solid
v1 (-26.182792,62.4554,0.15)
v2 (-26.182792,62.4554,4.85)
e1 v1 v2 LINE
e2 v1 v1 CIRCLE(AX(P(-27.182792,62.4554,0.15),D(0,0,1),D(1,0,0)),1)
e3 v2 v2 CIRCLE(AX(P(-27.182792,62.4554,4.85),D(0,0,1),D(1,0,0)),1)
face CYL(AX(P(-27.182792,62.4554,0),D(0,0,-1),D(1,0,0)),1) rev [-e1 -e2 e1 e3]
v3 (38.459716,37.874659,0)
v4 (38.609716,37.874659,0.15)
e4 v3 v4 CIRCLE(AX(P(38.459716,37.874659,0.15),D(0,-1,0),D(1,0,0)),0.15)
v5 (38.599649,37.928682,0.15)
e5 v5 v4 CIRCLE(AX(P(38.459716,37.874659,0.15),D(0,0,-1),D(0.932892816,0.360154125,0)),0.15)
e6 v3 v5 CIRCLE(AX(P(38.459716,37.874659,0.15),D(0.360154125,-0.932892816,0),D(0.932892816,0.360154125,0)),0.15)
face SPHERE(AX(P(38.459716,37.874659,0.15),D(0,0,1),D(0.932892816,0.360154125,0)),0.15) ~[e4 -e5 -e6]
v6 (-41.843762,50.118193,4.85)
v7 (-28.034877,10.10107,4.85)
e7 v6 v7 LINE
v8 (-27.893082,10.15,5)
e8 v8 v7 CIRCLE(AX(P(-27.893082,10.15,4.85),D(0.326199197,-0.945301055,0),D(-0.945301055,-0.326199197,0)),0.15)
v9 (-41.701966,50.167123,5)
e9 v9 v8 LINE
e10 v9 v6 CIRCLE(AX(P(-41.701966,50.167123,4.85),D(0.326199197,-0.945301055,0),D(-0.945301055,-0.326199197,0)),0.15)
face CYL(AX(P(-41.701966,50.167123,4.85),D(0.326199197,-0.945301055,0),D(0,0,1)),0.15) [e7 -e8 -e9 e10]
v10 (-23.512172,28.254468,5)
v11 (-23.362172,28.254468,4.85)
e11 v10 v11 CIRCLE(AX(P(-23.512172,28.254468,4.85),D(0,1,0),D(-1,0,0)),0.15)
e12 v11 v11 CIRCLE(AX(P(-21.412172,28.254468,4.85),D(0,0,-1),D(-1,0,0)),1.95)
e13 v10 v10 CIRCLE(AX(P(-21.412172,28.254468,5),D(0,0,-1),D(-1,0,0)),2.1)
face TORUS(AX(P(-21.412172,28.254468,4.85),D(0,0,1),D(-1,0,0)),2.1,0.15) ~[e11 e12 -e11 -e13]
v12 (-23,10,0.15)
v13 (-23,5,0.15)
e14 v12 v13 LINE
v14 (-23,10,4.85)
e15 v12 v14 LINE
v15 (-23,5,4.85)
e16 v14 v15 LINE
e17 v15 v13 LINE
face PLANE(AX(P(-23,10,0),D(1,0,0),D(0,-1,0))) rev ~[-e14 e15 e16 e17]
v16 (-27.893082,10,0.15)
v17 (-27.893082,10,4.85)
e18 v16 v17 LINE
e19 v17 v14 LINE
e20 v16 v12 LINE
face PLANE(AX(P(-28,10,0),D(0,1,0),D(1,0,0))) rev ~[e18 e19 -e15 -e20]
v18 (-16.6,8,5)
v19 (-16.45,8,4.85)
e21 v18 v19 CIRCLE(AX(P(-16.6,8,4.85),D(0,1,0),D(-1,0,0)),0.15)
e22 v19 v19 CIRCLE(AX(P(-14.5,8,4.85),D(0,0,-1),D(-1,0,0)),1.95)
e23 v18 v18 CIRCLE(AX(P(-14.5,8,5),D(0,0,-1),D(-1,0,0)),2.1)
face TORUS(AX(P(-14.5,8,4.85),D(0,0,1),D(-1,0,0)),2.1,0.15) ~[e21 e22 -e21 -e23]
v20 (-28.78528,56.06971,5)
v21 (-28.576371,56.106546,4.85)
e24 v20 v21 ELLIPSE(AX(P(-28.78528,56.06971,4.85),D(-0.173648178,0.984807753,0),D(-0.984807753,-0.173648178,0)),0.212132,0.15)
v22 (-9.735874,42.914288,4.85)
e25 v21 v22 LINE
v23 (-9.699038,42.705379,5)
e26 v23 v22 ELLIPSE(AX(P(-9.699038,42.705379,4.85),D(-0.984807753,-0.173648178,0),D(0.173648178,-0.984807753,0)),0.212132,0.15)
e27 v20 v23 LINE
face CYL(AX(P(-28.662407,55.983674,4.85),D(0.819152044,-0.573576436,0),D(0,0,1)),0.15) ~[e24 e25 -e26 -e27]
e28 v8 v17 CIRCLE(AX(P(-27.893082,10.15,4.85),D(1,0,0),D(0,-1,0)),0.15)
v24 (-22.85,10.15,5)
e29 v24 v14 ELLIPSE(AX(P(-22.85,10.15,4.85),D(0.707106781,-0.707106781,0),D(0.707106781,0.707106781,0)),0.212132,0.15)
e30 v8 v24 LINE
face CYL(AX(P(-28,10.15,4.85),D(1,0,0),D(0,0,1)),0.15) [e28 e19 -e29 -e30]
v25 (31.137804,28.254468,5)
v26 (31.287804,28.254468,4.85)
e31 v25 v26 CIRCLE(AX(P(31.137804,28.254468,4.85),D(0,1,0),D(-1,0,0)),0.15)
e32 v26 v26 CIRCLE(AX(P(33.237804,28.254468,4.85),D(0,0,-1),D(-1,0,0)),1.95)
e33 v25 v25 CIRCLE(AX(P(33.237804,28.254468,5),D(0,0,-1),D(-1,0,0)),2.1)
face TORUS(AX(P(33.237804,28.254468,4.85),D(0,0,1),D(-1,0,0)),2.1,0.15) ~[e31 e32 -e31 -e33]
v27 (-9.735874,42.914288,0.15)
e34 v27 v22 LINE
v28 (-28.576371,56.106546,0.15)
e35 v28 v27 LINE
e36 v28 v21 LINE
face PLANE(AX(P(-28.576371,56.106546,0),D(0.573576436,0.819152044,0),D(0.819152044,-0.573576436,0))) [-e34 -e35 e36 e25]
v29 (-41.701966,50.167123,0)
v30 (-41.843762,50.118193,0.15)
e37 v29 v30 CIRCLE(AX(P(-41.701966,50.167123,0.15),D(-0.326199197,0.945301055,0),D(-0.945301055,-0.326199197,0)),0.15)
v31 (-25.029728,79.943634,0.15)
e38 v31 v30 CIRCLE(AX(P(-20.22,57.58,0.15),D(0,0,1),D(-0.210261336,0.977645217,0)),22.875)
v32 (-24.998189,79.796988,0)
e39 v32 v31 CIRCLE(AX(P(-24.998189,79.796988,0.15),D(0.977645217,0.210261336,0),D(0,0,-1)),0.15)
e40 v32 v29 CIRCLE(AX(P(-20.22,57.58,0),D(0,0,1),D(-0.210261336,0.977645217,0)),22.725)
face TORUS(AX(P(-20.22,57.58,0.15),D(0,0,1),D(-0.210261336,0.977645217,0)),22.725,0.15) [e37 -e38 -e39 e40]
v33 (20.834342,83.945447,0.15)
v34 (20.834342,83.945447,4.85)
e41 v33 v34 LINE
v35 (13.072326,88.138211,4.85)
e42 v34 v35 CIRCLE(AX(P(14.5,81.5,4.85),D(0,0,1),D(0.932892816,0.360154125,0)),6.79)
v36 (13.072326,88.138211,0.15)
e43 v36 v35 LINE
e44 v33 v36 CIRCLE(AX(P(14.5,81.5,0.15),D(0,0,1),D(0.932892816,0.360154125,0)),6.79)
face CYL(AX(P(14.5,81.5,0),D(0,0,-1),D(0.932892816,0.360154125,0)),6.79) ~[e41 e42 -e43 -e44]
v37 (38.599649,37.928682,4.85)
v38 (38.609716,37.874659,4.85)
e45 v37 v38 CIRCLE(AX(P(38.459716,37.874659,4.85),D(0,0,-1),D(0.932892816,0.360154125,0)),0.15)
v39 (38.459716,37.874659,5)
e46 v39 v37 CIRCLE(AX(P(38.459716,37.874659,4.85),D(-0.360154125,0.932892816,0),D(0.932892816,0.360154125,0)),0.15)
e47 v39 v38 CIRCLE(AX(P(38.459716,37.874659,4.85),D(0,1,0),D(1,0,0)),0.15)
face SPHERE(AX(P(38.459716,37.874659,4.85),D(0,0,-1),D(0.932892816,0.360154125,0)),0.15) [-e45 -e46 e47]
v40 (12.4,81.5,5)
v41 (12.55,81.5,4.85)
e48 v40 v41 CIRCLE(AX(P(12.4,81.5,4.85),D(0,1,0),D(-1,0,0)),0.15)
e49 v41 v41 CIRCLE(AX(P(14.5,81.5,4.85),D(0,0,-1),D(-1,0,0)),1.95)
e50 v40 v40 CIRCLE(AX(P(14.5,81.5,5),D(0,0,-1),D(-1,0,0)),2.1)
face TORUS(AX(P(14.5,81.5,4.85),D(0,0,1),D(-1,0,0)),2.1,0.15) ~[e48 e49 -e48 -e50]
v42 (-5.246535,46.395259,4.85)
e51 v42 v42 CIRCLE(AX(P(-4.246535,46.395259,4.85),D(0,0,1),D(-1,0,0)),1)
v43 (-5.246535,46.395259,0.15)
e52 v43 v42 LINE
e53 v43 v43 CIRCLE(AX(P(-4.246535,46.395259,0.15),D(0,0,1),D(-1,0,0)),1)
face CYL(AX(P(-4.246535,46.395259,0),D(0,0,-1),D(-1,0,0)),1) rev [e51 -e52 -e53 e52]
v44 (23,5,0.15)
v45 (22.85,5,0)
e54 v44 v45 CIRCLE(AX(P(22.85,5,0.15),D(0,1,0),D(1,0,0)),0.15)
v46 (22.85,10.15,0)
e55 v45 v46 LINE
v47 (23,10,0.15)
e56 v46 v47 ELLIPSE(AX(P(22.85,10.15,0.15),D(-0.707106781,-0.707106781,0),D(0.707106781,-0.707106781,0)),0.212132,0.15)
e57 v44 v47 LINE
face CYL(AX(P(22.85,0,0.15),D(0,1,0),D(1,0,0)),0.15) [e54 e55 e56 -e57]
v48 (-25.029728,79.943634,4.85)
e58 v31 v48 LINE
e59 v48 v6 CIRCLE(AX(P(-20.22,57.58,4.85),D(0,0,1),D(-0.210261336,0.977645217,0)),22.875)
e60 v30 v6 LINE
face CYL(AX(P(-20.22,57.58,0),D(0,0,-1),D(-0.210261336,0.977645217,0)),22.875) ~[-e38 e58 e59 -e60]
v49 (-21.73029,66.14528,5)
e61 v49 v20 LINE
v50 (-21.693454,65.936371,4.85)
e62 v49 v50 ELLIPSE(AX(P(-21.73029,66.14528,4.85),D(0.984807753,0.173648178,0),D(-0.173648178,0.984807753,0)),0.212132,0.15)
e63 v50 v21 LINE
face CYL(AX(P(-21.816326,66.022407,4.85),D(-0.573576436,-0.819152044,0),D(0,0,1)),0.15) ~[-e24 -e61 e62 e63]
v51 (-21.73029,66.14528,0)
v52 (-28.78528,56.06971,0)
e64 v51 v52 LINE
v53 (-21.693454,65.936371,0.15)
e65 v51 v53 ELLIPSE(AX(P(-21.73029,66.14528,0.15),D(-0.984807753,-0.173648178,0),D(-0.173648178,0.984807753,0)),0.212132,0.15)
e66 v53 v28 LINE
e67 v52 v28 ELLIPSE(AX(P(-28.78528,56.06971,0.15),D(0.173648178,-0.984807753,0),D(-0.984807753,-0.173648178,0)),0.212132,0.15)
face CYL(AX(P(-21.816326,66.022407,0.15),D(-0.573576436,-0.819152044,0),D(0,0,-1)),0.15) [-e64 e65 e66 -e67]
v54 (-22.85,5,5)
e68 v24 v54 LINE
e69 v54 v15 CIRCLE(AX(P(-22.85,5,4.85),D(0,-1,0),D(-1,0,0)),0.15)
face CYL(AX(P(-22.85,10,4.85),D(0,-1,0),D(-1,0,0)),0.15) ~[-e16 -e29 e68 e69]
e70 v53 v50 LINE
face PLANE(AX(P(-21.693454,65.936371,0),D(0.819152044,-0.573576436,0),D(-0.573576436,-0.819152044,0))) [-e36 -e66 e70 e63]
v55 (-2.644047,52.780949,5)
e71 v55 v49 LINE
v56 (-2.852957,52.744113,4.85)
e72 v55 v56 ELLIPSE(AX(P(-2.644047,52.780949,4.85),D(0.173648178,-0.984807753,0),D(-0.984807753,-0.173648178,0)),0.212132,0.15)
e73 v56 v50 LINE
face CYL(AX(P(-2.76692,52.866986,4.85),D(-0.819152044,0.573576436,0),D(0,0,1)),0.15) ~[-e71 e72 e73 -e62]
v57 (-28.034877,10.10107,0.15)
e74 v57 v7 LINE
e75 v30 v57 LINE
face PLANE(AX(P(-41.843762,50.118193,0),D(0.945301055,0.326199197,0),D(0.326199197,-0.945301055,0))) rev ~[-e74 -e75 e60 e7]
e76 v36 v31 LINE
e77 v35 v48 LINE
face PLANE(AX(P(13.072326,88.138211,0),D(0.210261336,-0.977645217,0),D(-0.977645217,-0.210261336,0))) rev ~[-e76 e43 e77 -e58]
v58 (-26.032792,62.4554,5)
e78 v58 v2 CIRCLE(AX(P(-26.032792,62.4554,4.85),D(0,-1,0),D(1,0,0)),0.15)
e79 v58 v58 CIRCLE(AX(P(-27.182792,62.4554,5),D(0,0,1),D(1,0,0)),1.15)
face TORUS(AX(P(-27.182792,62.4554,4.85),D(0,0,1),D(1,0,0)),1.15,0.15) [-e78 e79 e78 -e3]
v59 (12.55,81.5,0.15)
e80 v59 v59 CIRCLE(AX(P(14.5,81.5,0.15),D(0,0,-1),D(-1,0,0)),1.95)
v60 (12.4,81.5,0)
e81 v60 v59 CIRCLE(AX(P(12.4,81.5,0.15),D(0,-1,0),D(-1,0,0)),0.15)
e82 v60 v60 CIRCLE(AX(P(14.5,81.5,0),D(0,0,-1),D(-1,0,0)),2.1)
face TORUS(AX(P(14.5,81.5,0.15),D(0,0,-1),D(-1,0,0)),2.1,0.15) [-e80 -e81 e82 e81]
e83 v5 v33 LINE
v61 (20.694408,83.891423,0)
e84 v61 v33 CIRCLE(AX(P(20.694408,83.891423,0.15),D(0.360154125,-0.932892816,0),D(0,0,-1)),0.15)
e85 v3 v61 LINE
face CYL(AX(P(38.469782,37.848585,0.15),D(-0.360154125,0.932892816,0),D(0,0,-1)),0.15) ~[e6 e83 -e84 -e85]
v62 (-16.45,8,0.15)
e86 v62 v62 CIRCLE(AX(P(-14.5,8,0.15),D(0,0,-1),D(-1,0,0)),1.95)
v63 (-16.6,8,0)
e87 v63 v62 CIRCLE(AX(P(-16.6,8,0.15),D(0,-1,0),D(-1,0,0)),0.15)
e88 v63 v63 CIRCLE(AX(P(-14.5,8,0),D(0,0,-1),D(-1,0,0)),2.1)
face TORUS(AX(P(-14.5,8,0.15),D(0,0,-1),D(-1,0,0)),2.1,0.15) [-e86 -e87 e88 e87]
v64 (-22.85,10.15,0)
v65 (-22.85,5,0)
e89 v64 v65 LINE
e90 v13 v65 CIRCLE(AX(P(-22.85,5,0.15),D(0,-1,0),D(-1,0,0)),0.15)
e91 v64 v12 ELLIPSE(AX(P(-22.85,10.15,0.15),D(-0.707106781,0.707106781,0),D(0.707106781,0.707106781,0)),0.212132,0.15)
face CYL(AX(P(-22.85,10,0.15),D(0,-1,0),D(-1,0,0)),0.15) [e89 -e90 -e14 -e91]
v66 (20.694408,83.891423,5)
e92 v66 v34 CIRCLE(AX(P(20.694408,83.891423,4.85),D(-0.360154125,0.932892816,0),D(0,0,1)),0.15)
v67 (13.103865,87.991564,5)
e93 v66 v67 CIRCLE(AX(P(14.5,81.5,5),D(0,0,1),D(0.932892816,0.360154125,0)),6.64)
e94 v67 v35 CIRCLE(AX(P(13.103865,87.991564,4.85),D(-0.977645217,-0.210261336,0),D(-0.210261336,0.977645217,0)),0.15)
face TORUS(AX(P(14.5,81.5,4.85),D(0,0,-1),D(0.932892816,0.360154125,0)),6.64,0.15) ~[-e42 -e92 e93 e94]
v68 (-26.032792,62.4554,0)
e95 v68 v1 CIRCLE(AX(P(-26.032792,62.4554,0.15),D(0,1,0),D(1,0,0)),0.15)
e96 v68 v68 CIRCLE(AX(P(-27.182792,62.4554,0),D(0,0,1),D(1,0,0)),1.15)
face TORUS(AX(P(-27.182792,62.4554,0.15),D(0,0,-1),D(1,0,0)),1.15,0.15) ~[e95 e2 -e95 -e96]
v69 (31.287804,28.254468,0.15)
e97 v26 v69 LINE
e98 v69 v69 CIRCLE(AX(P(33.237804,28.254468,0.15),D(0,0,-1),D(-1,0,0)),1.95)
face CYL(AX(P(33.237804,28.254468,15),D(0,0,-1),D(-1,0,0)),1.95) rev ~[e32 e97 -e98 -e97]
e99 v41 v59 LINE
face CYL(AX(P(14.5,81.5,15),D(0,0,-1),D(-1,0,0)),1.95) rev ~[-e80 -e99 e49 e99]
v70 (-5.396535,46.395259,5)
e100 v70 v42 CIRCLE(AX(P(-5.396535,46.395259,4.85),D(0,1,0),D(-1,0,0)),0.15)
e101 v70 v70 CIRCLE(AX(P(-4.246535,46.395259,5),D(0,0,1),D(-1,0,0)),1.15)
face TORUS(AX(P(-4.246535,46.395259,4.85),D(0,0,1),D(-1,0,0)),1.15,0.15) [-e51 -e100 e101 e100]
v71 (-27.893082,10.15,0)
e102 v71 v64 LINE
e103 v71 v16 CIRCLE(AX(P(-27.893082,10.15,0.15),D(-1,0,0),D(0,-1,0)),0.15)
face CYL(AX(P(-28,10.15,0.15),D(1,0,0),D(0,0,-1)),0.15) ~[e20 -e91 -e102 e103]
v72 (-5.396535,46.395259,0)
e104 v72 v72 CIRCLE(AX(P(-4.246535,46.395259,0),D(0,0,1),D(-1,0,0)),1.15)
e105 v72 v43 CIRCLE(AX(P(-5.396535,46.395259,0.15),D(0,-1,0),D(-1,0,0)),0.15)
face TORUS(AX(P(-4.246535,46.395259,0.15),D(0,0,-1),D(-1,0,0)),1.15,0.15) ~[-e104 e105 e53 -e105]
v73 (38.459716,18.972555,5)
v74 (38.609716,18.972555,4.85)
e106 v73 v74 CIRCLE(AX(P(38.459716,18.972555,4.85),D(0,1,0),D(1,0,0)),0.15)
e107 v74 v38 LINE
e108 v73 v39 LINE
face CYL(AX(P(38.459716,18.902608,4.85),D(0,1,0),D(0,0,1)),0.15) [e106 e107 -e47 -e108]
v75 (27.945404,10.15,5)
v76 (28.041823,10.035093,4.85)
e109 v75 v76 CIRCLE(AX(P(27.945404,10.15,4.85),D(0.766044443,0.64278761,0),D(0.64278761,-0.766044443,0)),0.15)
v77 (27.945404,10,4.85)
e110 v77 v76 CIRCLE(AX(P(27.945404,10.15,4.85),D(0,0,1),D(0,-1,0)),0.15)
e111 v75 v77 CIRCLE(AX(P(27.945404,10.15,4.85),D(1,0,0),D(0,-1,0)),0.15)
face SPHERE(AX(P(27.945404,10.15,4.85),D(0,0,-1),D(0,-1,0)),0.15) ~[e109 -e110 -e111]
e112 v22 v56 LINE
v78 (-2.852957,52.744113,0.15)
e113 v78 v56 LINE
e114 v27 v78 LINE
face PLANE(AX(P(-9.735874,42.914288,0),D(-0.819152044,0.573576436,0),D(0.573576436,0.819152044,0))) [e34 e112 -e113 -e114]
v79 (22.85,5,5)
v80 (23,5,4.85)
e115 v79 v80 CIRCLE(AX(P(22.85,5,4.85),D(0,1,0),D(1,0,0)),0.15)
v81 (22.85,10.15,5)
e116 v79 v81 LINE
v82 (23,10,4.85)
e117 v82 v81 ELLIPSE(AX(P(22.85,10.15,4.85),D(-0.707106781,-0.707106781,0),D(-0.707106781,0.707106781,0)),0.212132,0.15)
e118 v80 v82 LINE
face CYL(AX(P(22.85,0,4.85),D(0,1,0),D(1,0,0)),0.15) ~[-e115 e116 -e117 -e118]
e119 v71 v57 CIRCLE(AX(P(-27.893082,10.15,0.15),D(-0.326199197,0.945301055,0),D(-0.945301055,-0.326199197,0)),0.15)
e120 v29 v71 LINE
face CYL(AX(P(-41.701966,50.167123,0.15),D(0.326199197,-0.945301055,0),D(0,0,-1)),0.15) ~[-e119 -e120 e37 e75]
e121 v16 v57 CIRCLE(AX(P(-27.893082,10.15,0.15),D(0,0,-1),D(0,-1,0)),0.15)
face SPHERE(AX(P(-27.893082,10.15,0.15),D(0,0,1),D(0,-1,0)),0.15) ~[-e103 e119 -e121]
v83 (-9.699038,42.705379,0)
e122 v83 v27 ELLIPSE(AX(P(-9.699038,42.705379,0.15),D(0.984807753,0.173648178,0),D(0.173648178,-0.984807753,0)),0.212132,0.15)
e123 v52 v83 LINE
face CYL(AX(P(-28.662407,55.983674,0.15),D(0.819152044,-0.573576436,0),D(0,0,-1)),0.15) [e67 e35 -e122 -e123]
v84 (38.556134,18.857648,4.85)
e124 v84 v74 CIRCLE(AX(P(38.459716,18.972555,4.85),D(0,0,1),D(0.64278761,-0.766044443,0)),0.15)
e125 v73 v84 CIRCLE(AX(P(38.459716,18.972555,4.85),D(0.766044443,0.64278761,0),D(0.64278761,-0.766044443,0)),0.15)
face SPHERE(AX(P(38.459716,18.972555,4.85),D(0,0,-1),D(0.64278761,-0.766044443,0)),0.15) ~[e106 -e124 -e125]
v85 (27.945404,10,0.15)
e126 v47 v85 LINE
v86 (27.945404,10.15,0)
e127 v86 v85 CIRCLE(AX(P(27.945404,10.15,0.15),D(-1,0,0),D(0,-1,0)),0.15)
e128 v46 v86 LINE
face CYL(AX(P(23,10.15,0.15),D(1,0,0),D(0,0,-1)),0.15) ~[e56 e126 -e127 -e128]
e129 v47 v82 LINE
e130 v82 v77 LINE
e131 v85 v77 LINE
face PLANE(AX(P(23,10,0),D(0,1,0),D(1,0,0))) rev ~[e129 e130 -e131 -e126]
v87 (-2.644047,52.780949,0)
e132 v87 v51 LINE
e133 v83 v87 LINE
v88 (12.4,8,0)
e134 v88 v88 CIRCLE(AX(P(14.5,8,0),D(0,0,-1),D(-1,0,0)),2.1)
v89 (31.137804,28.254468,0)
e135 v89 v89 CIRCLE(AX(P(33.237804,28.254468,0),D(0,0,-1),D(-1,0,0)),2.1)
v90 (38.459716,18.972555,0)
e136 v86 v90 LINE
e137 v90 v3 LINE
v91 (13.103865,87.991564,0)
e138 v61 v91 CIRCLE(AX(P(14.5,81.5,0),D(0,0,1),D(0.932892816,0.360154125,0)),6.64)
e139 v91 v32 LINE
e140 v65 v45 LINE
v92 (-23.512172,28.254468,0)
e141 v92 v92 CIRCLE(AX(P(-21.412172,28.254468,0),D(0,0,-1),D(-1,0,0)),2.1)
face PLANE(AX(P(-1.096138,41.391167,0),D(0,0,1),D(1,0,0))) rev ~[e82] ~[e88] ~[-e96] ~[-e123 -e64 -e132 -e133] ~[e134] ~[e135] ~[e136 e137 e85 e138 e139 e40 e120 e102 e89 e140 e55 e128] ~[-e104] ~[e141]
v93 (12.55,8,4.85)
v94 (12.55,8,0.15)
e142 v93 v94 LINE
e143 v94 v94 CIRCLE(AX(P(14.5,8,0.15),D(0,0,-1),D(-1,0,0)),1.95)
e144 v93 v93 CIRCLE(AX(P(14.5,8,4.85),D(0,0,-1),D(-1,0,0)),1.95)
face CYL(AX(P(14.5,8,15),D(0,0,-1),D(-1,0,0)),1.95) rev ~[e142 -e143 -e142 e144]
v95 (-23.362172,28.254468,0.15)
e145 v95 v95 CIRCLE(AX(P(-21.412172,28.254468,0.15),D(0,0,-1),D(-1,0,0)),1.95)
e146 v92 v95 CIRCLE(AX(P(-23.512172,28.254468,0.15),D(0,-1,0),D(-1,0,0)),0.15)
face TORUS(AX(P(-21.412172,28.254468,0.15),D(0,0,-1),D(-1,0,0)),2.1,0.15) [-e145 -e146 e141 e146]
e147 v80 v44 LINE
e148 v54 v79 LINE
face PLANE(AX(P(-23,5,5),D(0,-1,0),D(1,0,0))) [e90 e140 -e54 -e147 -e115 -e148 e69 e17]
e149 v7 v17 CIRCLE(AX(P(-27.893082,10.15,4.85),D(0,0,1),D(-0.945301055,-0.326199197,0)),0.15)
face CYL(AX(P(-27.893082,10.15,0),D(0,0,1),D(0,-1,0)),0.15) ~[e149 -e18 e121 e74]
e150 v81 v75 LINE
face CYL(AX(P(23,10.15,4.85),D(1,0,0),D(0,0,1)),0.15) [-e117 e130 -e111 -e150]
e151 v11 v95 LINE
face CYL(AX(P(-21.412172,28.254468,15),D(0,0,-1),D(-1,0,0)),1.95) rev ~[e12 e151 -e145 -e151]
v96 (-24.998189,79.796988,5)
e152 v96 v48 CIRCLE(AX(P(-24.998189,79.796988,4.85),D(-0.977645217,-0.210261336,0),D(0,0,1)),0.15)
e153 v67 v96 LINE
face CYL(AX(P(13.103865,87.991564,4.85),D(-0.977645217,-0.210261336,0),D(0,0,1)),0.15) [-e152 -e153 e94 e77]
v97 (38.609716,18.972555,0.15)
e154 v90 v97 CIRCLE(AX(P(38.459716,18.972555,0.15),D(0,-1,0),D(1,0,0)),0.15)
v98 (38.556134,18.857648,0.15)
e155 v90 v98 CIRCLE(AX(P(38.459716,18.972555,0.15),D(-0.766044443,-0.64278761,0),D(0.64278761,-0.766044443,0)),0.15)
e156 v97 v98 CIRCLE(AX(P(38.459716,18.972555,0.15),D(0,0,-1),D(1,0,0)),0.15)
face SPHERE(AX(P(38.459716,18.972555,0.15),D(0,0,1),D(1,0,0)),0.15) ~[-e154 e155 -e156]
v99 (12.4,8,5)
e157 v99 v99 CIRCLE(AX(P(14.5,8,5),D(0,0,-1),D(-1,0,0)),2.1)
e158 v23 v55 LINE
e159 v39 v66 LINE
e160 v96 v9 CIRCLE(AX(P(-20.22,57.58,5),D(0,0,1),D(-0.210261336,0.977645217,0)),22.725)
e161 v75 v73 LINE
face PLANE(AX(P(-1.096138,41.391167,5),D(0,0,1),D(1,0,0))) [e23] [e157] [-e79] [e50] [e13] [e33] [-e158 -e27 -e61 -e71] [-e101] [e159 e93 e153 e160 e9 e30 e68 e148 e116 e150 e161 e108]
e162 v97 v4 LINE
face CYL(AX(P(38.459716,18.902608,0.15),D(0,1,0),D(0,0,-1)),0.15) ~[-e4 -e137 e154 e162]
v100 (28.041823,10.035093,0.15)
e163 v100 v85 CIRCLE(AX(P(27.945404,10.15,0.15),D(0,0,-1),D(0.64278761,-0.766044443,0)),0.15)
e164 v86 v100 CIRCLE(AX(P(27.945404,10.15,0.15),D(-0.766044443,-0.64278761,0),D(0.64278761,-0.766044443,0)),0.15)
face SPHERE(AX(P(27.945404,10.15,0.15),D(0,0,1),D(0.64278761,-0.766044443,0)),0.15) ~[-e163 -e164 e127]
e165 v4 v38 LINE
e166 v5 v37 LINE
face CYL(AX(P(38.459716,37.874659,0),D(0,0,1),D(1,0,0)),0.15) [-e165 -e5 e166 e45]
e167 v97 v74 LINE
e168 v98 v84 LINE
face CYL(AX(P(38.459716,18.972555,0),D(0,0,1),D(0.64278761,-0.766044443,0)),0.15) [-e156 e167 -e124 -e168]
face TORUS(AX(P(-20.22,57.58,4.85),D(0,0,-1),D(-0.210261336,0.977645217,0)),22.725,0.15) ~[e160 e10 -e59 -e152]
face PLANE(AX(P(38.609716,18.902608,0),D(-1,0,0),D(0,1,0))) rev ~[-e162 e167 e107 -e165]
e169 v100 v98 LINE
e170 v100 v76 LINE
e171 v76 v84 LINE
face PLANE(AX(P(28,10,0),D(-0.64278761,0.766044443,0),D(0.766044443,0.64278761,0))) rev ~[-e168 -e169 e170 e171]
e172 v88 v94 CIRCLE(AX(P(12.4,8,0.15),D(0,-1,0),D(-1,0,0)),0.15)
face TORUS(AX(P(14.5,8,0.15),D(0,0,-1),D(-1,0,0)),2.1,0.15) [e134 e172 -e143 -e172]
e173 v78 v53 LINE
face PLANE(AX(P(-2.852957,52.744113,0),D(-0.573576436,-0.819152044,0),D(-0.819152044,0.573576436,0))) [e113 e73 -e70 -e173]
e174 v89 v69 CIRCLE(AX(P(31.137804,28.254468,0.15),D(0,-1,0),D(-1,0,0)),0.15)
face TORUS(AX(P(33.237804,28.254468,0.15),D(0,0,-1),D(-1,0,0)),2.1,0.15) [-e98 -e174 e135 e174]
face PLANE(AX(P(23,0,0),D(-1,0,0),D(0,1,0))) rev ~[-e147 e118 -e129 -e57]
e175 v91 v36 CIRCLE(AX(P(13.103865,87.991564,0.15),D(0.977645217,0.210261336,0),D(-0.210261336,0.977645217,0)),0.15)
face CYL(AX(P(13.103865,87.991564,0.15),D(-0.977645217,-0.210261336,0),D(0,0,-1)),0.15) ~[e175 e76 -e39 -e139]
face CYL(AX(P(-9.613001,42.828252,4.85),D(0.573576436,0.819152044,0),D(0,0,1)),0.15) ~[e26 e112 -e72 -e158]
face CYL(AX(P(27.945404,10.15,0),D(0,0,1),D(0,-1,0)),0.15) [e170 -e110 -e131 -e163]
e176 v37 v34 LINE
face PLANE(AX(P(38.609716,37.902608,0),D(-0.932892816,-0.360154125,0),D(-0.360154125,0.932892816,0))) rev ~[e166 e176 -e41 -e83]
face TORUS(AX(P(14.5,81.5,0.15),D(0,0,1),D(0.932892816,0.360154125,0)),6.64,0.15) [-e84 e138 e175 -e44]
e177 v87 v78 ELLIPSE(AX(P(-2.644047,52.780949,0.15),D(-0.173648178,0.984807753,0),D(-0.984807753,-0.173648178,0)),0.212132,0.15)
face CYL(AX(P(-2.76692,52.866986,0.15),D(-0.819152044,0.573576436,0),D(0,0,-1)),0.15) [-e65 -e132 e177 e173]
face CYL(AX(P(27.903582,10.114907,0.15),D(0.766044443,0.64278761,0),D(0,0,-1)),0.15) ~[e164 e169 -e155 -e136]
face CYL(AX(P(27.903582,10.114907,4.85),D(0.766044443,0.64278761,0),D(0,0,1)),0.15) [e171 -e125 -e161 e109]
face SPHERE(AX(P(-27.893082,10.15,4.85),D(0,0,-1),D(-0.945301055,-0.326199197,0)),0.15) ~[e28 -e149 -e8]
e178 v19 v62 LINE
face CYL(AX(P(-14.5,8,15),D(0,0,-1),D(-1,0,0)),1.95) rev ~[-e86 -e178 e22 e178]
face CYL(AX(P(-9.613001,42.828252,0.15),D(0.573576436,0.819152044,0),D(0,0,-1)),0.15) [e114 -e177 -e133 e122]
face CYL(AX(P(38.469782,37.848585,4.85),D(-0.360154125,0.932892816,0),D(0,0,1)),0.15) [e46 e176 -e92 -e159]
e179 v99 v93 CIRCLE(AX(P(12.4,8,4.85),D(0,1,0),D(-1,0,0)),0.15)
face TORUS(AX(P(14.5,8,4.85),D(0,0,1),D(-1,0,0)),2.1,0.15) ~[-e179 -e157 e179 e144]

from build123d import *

# Parameters (mm, degrees)
SKETCH1_R                  = 1
BOSS_EXTRUDE1_DEPTH        = 5
M3_5_CLEARANCE_HOLE1_D     = 3.9
M3_5_CLEARANCE_HOLE1_DEPTH = 10
M3_5_CLEARANCE_HOLE1_TIP   = 1.171678207
FILLET1_R                  = 0.15
SKETCH4_W                  = 46
SKETCH4_H                  = 5
CUT_EXTRUDE4_DEPTH         = 10


with BuildPart() as part:
    # Sketch1 → Boss-Extrude1 (new body)
    with BuildSketch(Plane.XY):
        with BuildLine():
            Line((-23, 0), (23, 0))
            Line((23, 0), (23, 10))
            Line((23, 10), (28, 10))
            Line((28, 10), (38.609715537, 18.902608394))
            Line((38.609715537, 18.902608394), (38.609715537, 37.902608394))
            Line((38.609715537, 37.902608394), (20.834342221, 83.945446508))
            ThreePointArc((20.834342221, 83.945446508), (17.727021176, 87.474147163), (13.072325527, 88.138211024))
            Line((13.072325527, 88.138211024), (-25.029728066, 79.943634341))
            ThreePointArc((-25.029728066, 79.943634341), (-40.146654928, 68.813612437), (-41.843761624, 50.118193368))
            Line((-41.843761624, 50.118193368), (-28, 10))
            Line((-28, 10), (-23, 10))
            Line((-23, 10), (-23, 0))
        make_face()
        with Locations((-27.182792376, 62.455399709)):
            Circle(SKETCH1_R, mode=Mode.SUBTRACT)
        with Locations(Location((-4.246535136, 46.395259491, 0), (0, 0, 180))):
            Circle(SKETCH1_R, mode=Mode.SUBTRACT)
        Polygon((-21.693453648, 65.936370884), (-28.576370884, 56.106546352), (-9.735873865, 42.914288316), (-2.852956629, 52.744112848), align=None, mode=Mode.SUBTRACT)
    extrude(amount=BOSS_EXTRUDE1_DEPTH)

    # M3.5 Clearance Hole1
    with Locations(Plane.XY.offset(5)):
        with Locations((14.5, 81.5), (33.237803787, 28.254468489), (-21.412172308, 28.254468489), (-14.5, 8), (14.5, 8)):
            Hole(M3_5_CLEARANCE_HOLE1_D / 2, depth=M3_5_CLEARANCE_HOLE1_DEPTH)
            with Locations((0, 0, -(M3_5_CLEARANCE_HOLE1_DEPTH + M3_5_CLEARANCE_HOLE1_TIP / 2))):  # 118° drill point
                Cone(0, M3_5_CLEARANCE_HOLE1_D / 2, M3_5_CLEARANCE_HOLE1_TIP, mode=Mode.SUBTRACT)

    # Fillet1
    fillet1_edges = [part.edges().sort_by_distance(p)[0] for p in [
        (23, 5, 5),
        (-25.5, 10, 0),
        (-34.921880812, 30.059096684, 0),
        (-40.146654928, 68.813612437, 0),
        (-5.978701269, 84.040922682, 0),
        (17.727021176, 87.474147163, 0),
        (29.722028879, 60.924027451, 0),
        (25.5, 10, 5),
        (38.609715537, 28.402608394, 0),
        (33.304857769, 14.451304197, 0),
        (25.5, 10, 0),
        (23, 5, 0),
        (0, 0, 0),
        (-23, 5, 0),
        (33.304857769, 14.451304197, 5),
        (38.609715537, 28.402608394, 5),
        (-28, 10, 2.5),
        (38.609715537, 37.902608394, 2.5),
        (38.609715537, 18.902608394, 2.5),
        (28, 10, 2.5),
        (23, 0, 2.5),
        (-23, 0, 2.5),
        (29.722028879, 60.924027451, 5),
        (17.727021176, 87.474147163, 5),
        (-5.978701269, 84.040922682, 5),
        (-40.146654928, 68.813612437, 5),
        (-12.273205138, 59.340241866, 0),
        (-25.134912266, 61.021458618, 0),
        (-19.156122375, 49.510417334, 0),
        (-6.294415247, 47.829200582, 0),
        (-34.921880812, 30.059096684, 5),
        (-12.273205138, 59.340241866, 5),
        (-25.134912266, 61.021458618, 5),
        (-19.156122375, 49.510417334, 5),
        (-6.294415247, 47.829200582, 5),
        (-25.5, 10, 5),
        (-23, 5, 5),
        (-28.182792376, 62.455399709, 0),
        (-28.182792376, 62.455399709, 5),
        (-3.246535136, 46.395259491, 0),
        (-3.246535136, 46.395259491, 5),
        (16.45, 8, 0),
        (16.45, 8, 5),
        (-12.55, 8, 0),
        (-12.55, 8, 5),
        (-19.462172308, 28.254468489, 0),
        (0, 0, 5),
        (-19.462172308, 28.254468489, 5),
        (35.187803787, 28.254468489, 0),
        (35.187803787, 28.254468489, 5),
        (16.45, 81.5, 0),
        (16.45, 81.5, 5),
    ]]
    fillet(fillet1_edges, radius=FILLET1_R)

    # Sketch4 → Cut-Extrude4 (cut)
    with BuildSketch(Plane.XY.offset(5)):
        with Locations((0, 2.5)):
            Rectangle(SKETCH4_W, SKETCH4_H)
    extrude(amount=-CUT_EXTRUDE4_DEPTH, mode=Mode.SUBTRACT)


solid = part.part
